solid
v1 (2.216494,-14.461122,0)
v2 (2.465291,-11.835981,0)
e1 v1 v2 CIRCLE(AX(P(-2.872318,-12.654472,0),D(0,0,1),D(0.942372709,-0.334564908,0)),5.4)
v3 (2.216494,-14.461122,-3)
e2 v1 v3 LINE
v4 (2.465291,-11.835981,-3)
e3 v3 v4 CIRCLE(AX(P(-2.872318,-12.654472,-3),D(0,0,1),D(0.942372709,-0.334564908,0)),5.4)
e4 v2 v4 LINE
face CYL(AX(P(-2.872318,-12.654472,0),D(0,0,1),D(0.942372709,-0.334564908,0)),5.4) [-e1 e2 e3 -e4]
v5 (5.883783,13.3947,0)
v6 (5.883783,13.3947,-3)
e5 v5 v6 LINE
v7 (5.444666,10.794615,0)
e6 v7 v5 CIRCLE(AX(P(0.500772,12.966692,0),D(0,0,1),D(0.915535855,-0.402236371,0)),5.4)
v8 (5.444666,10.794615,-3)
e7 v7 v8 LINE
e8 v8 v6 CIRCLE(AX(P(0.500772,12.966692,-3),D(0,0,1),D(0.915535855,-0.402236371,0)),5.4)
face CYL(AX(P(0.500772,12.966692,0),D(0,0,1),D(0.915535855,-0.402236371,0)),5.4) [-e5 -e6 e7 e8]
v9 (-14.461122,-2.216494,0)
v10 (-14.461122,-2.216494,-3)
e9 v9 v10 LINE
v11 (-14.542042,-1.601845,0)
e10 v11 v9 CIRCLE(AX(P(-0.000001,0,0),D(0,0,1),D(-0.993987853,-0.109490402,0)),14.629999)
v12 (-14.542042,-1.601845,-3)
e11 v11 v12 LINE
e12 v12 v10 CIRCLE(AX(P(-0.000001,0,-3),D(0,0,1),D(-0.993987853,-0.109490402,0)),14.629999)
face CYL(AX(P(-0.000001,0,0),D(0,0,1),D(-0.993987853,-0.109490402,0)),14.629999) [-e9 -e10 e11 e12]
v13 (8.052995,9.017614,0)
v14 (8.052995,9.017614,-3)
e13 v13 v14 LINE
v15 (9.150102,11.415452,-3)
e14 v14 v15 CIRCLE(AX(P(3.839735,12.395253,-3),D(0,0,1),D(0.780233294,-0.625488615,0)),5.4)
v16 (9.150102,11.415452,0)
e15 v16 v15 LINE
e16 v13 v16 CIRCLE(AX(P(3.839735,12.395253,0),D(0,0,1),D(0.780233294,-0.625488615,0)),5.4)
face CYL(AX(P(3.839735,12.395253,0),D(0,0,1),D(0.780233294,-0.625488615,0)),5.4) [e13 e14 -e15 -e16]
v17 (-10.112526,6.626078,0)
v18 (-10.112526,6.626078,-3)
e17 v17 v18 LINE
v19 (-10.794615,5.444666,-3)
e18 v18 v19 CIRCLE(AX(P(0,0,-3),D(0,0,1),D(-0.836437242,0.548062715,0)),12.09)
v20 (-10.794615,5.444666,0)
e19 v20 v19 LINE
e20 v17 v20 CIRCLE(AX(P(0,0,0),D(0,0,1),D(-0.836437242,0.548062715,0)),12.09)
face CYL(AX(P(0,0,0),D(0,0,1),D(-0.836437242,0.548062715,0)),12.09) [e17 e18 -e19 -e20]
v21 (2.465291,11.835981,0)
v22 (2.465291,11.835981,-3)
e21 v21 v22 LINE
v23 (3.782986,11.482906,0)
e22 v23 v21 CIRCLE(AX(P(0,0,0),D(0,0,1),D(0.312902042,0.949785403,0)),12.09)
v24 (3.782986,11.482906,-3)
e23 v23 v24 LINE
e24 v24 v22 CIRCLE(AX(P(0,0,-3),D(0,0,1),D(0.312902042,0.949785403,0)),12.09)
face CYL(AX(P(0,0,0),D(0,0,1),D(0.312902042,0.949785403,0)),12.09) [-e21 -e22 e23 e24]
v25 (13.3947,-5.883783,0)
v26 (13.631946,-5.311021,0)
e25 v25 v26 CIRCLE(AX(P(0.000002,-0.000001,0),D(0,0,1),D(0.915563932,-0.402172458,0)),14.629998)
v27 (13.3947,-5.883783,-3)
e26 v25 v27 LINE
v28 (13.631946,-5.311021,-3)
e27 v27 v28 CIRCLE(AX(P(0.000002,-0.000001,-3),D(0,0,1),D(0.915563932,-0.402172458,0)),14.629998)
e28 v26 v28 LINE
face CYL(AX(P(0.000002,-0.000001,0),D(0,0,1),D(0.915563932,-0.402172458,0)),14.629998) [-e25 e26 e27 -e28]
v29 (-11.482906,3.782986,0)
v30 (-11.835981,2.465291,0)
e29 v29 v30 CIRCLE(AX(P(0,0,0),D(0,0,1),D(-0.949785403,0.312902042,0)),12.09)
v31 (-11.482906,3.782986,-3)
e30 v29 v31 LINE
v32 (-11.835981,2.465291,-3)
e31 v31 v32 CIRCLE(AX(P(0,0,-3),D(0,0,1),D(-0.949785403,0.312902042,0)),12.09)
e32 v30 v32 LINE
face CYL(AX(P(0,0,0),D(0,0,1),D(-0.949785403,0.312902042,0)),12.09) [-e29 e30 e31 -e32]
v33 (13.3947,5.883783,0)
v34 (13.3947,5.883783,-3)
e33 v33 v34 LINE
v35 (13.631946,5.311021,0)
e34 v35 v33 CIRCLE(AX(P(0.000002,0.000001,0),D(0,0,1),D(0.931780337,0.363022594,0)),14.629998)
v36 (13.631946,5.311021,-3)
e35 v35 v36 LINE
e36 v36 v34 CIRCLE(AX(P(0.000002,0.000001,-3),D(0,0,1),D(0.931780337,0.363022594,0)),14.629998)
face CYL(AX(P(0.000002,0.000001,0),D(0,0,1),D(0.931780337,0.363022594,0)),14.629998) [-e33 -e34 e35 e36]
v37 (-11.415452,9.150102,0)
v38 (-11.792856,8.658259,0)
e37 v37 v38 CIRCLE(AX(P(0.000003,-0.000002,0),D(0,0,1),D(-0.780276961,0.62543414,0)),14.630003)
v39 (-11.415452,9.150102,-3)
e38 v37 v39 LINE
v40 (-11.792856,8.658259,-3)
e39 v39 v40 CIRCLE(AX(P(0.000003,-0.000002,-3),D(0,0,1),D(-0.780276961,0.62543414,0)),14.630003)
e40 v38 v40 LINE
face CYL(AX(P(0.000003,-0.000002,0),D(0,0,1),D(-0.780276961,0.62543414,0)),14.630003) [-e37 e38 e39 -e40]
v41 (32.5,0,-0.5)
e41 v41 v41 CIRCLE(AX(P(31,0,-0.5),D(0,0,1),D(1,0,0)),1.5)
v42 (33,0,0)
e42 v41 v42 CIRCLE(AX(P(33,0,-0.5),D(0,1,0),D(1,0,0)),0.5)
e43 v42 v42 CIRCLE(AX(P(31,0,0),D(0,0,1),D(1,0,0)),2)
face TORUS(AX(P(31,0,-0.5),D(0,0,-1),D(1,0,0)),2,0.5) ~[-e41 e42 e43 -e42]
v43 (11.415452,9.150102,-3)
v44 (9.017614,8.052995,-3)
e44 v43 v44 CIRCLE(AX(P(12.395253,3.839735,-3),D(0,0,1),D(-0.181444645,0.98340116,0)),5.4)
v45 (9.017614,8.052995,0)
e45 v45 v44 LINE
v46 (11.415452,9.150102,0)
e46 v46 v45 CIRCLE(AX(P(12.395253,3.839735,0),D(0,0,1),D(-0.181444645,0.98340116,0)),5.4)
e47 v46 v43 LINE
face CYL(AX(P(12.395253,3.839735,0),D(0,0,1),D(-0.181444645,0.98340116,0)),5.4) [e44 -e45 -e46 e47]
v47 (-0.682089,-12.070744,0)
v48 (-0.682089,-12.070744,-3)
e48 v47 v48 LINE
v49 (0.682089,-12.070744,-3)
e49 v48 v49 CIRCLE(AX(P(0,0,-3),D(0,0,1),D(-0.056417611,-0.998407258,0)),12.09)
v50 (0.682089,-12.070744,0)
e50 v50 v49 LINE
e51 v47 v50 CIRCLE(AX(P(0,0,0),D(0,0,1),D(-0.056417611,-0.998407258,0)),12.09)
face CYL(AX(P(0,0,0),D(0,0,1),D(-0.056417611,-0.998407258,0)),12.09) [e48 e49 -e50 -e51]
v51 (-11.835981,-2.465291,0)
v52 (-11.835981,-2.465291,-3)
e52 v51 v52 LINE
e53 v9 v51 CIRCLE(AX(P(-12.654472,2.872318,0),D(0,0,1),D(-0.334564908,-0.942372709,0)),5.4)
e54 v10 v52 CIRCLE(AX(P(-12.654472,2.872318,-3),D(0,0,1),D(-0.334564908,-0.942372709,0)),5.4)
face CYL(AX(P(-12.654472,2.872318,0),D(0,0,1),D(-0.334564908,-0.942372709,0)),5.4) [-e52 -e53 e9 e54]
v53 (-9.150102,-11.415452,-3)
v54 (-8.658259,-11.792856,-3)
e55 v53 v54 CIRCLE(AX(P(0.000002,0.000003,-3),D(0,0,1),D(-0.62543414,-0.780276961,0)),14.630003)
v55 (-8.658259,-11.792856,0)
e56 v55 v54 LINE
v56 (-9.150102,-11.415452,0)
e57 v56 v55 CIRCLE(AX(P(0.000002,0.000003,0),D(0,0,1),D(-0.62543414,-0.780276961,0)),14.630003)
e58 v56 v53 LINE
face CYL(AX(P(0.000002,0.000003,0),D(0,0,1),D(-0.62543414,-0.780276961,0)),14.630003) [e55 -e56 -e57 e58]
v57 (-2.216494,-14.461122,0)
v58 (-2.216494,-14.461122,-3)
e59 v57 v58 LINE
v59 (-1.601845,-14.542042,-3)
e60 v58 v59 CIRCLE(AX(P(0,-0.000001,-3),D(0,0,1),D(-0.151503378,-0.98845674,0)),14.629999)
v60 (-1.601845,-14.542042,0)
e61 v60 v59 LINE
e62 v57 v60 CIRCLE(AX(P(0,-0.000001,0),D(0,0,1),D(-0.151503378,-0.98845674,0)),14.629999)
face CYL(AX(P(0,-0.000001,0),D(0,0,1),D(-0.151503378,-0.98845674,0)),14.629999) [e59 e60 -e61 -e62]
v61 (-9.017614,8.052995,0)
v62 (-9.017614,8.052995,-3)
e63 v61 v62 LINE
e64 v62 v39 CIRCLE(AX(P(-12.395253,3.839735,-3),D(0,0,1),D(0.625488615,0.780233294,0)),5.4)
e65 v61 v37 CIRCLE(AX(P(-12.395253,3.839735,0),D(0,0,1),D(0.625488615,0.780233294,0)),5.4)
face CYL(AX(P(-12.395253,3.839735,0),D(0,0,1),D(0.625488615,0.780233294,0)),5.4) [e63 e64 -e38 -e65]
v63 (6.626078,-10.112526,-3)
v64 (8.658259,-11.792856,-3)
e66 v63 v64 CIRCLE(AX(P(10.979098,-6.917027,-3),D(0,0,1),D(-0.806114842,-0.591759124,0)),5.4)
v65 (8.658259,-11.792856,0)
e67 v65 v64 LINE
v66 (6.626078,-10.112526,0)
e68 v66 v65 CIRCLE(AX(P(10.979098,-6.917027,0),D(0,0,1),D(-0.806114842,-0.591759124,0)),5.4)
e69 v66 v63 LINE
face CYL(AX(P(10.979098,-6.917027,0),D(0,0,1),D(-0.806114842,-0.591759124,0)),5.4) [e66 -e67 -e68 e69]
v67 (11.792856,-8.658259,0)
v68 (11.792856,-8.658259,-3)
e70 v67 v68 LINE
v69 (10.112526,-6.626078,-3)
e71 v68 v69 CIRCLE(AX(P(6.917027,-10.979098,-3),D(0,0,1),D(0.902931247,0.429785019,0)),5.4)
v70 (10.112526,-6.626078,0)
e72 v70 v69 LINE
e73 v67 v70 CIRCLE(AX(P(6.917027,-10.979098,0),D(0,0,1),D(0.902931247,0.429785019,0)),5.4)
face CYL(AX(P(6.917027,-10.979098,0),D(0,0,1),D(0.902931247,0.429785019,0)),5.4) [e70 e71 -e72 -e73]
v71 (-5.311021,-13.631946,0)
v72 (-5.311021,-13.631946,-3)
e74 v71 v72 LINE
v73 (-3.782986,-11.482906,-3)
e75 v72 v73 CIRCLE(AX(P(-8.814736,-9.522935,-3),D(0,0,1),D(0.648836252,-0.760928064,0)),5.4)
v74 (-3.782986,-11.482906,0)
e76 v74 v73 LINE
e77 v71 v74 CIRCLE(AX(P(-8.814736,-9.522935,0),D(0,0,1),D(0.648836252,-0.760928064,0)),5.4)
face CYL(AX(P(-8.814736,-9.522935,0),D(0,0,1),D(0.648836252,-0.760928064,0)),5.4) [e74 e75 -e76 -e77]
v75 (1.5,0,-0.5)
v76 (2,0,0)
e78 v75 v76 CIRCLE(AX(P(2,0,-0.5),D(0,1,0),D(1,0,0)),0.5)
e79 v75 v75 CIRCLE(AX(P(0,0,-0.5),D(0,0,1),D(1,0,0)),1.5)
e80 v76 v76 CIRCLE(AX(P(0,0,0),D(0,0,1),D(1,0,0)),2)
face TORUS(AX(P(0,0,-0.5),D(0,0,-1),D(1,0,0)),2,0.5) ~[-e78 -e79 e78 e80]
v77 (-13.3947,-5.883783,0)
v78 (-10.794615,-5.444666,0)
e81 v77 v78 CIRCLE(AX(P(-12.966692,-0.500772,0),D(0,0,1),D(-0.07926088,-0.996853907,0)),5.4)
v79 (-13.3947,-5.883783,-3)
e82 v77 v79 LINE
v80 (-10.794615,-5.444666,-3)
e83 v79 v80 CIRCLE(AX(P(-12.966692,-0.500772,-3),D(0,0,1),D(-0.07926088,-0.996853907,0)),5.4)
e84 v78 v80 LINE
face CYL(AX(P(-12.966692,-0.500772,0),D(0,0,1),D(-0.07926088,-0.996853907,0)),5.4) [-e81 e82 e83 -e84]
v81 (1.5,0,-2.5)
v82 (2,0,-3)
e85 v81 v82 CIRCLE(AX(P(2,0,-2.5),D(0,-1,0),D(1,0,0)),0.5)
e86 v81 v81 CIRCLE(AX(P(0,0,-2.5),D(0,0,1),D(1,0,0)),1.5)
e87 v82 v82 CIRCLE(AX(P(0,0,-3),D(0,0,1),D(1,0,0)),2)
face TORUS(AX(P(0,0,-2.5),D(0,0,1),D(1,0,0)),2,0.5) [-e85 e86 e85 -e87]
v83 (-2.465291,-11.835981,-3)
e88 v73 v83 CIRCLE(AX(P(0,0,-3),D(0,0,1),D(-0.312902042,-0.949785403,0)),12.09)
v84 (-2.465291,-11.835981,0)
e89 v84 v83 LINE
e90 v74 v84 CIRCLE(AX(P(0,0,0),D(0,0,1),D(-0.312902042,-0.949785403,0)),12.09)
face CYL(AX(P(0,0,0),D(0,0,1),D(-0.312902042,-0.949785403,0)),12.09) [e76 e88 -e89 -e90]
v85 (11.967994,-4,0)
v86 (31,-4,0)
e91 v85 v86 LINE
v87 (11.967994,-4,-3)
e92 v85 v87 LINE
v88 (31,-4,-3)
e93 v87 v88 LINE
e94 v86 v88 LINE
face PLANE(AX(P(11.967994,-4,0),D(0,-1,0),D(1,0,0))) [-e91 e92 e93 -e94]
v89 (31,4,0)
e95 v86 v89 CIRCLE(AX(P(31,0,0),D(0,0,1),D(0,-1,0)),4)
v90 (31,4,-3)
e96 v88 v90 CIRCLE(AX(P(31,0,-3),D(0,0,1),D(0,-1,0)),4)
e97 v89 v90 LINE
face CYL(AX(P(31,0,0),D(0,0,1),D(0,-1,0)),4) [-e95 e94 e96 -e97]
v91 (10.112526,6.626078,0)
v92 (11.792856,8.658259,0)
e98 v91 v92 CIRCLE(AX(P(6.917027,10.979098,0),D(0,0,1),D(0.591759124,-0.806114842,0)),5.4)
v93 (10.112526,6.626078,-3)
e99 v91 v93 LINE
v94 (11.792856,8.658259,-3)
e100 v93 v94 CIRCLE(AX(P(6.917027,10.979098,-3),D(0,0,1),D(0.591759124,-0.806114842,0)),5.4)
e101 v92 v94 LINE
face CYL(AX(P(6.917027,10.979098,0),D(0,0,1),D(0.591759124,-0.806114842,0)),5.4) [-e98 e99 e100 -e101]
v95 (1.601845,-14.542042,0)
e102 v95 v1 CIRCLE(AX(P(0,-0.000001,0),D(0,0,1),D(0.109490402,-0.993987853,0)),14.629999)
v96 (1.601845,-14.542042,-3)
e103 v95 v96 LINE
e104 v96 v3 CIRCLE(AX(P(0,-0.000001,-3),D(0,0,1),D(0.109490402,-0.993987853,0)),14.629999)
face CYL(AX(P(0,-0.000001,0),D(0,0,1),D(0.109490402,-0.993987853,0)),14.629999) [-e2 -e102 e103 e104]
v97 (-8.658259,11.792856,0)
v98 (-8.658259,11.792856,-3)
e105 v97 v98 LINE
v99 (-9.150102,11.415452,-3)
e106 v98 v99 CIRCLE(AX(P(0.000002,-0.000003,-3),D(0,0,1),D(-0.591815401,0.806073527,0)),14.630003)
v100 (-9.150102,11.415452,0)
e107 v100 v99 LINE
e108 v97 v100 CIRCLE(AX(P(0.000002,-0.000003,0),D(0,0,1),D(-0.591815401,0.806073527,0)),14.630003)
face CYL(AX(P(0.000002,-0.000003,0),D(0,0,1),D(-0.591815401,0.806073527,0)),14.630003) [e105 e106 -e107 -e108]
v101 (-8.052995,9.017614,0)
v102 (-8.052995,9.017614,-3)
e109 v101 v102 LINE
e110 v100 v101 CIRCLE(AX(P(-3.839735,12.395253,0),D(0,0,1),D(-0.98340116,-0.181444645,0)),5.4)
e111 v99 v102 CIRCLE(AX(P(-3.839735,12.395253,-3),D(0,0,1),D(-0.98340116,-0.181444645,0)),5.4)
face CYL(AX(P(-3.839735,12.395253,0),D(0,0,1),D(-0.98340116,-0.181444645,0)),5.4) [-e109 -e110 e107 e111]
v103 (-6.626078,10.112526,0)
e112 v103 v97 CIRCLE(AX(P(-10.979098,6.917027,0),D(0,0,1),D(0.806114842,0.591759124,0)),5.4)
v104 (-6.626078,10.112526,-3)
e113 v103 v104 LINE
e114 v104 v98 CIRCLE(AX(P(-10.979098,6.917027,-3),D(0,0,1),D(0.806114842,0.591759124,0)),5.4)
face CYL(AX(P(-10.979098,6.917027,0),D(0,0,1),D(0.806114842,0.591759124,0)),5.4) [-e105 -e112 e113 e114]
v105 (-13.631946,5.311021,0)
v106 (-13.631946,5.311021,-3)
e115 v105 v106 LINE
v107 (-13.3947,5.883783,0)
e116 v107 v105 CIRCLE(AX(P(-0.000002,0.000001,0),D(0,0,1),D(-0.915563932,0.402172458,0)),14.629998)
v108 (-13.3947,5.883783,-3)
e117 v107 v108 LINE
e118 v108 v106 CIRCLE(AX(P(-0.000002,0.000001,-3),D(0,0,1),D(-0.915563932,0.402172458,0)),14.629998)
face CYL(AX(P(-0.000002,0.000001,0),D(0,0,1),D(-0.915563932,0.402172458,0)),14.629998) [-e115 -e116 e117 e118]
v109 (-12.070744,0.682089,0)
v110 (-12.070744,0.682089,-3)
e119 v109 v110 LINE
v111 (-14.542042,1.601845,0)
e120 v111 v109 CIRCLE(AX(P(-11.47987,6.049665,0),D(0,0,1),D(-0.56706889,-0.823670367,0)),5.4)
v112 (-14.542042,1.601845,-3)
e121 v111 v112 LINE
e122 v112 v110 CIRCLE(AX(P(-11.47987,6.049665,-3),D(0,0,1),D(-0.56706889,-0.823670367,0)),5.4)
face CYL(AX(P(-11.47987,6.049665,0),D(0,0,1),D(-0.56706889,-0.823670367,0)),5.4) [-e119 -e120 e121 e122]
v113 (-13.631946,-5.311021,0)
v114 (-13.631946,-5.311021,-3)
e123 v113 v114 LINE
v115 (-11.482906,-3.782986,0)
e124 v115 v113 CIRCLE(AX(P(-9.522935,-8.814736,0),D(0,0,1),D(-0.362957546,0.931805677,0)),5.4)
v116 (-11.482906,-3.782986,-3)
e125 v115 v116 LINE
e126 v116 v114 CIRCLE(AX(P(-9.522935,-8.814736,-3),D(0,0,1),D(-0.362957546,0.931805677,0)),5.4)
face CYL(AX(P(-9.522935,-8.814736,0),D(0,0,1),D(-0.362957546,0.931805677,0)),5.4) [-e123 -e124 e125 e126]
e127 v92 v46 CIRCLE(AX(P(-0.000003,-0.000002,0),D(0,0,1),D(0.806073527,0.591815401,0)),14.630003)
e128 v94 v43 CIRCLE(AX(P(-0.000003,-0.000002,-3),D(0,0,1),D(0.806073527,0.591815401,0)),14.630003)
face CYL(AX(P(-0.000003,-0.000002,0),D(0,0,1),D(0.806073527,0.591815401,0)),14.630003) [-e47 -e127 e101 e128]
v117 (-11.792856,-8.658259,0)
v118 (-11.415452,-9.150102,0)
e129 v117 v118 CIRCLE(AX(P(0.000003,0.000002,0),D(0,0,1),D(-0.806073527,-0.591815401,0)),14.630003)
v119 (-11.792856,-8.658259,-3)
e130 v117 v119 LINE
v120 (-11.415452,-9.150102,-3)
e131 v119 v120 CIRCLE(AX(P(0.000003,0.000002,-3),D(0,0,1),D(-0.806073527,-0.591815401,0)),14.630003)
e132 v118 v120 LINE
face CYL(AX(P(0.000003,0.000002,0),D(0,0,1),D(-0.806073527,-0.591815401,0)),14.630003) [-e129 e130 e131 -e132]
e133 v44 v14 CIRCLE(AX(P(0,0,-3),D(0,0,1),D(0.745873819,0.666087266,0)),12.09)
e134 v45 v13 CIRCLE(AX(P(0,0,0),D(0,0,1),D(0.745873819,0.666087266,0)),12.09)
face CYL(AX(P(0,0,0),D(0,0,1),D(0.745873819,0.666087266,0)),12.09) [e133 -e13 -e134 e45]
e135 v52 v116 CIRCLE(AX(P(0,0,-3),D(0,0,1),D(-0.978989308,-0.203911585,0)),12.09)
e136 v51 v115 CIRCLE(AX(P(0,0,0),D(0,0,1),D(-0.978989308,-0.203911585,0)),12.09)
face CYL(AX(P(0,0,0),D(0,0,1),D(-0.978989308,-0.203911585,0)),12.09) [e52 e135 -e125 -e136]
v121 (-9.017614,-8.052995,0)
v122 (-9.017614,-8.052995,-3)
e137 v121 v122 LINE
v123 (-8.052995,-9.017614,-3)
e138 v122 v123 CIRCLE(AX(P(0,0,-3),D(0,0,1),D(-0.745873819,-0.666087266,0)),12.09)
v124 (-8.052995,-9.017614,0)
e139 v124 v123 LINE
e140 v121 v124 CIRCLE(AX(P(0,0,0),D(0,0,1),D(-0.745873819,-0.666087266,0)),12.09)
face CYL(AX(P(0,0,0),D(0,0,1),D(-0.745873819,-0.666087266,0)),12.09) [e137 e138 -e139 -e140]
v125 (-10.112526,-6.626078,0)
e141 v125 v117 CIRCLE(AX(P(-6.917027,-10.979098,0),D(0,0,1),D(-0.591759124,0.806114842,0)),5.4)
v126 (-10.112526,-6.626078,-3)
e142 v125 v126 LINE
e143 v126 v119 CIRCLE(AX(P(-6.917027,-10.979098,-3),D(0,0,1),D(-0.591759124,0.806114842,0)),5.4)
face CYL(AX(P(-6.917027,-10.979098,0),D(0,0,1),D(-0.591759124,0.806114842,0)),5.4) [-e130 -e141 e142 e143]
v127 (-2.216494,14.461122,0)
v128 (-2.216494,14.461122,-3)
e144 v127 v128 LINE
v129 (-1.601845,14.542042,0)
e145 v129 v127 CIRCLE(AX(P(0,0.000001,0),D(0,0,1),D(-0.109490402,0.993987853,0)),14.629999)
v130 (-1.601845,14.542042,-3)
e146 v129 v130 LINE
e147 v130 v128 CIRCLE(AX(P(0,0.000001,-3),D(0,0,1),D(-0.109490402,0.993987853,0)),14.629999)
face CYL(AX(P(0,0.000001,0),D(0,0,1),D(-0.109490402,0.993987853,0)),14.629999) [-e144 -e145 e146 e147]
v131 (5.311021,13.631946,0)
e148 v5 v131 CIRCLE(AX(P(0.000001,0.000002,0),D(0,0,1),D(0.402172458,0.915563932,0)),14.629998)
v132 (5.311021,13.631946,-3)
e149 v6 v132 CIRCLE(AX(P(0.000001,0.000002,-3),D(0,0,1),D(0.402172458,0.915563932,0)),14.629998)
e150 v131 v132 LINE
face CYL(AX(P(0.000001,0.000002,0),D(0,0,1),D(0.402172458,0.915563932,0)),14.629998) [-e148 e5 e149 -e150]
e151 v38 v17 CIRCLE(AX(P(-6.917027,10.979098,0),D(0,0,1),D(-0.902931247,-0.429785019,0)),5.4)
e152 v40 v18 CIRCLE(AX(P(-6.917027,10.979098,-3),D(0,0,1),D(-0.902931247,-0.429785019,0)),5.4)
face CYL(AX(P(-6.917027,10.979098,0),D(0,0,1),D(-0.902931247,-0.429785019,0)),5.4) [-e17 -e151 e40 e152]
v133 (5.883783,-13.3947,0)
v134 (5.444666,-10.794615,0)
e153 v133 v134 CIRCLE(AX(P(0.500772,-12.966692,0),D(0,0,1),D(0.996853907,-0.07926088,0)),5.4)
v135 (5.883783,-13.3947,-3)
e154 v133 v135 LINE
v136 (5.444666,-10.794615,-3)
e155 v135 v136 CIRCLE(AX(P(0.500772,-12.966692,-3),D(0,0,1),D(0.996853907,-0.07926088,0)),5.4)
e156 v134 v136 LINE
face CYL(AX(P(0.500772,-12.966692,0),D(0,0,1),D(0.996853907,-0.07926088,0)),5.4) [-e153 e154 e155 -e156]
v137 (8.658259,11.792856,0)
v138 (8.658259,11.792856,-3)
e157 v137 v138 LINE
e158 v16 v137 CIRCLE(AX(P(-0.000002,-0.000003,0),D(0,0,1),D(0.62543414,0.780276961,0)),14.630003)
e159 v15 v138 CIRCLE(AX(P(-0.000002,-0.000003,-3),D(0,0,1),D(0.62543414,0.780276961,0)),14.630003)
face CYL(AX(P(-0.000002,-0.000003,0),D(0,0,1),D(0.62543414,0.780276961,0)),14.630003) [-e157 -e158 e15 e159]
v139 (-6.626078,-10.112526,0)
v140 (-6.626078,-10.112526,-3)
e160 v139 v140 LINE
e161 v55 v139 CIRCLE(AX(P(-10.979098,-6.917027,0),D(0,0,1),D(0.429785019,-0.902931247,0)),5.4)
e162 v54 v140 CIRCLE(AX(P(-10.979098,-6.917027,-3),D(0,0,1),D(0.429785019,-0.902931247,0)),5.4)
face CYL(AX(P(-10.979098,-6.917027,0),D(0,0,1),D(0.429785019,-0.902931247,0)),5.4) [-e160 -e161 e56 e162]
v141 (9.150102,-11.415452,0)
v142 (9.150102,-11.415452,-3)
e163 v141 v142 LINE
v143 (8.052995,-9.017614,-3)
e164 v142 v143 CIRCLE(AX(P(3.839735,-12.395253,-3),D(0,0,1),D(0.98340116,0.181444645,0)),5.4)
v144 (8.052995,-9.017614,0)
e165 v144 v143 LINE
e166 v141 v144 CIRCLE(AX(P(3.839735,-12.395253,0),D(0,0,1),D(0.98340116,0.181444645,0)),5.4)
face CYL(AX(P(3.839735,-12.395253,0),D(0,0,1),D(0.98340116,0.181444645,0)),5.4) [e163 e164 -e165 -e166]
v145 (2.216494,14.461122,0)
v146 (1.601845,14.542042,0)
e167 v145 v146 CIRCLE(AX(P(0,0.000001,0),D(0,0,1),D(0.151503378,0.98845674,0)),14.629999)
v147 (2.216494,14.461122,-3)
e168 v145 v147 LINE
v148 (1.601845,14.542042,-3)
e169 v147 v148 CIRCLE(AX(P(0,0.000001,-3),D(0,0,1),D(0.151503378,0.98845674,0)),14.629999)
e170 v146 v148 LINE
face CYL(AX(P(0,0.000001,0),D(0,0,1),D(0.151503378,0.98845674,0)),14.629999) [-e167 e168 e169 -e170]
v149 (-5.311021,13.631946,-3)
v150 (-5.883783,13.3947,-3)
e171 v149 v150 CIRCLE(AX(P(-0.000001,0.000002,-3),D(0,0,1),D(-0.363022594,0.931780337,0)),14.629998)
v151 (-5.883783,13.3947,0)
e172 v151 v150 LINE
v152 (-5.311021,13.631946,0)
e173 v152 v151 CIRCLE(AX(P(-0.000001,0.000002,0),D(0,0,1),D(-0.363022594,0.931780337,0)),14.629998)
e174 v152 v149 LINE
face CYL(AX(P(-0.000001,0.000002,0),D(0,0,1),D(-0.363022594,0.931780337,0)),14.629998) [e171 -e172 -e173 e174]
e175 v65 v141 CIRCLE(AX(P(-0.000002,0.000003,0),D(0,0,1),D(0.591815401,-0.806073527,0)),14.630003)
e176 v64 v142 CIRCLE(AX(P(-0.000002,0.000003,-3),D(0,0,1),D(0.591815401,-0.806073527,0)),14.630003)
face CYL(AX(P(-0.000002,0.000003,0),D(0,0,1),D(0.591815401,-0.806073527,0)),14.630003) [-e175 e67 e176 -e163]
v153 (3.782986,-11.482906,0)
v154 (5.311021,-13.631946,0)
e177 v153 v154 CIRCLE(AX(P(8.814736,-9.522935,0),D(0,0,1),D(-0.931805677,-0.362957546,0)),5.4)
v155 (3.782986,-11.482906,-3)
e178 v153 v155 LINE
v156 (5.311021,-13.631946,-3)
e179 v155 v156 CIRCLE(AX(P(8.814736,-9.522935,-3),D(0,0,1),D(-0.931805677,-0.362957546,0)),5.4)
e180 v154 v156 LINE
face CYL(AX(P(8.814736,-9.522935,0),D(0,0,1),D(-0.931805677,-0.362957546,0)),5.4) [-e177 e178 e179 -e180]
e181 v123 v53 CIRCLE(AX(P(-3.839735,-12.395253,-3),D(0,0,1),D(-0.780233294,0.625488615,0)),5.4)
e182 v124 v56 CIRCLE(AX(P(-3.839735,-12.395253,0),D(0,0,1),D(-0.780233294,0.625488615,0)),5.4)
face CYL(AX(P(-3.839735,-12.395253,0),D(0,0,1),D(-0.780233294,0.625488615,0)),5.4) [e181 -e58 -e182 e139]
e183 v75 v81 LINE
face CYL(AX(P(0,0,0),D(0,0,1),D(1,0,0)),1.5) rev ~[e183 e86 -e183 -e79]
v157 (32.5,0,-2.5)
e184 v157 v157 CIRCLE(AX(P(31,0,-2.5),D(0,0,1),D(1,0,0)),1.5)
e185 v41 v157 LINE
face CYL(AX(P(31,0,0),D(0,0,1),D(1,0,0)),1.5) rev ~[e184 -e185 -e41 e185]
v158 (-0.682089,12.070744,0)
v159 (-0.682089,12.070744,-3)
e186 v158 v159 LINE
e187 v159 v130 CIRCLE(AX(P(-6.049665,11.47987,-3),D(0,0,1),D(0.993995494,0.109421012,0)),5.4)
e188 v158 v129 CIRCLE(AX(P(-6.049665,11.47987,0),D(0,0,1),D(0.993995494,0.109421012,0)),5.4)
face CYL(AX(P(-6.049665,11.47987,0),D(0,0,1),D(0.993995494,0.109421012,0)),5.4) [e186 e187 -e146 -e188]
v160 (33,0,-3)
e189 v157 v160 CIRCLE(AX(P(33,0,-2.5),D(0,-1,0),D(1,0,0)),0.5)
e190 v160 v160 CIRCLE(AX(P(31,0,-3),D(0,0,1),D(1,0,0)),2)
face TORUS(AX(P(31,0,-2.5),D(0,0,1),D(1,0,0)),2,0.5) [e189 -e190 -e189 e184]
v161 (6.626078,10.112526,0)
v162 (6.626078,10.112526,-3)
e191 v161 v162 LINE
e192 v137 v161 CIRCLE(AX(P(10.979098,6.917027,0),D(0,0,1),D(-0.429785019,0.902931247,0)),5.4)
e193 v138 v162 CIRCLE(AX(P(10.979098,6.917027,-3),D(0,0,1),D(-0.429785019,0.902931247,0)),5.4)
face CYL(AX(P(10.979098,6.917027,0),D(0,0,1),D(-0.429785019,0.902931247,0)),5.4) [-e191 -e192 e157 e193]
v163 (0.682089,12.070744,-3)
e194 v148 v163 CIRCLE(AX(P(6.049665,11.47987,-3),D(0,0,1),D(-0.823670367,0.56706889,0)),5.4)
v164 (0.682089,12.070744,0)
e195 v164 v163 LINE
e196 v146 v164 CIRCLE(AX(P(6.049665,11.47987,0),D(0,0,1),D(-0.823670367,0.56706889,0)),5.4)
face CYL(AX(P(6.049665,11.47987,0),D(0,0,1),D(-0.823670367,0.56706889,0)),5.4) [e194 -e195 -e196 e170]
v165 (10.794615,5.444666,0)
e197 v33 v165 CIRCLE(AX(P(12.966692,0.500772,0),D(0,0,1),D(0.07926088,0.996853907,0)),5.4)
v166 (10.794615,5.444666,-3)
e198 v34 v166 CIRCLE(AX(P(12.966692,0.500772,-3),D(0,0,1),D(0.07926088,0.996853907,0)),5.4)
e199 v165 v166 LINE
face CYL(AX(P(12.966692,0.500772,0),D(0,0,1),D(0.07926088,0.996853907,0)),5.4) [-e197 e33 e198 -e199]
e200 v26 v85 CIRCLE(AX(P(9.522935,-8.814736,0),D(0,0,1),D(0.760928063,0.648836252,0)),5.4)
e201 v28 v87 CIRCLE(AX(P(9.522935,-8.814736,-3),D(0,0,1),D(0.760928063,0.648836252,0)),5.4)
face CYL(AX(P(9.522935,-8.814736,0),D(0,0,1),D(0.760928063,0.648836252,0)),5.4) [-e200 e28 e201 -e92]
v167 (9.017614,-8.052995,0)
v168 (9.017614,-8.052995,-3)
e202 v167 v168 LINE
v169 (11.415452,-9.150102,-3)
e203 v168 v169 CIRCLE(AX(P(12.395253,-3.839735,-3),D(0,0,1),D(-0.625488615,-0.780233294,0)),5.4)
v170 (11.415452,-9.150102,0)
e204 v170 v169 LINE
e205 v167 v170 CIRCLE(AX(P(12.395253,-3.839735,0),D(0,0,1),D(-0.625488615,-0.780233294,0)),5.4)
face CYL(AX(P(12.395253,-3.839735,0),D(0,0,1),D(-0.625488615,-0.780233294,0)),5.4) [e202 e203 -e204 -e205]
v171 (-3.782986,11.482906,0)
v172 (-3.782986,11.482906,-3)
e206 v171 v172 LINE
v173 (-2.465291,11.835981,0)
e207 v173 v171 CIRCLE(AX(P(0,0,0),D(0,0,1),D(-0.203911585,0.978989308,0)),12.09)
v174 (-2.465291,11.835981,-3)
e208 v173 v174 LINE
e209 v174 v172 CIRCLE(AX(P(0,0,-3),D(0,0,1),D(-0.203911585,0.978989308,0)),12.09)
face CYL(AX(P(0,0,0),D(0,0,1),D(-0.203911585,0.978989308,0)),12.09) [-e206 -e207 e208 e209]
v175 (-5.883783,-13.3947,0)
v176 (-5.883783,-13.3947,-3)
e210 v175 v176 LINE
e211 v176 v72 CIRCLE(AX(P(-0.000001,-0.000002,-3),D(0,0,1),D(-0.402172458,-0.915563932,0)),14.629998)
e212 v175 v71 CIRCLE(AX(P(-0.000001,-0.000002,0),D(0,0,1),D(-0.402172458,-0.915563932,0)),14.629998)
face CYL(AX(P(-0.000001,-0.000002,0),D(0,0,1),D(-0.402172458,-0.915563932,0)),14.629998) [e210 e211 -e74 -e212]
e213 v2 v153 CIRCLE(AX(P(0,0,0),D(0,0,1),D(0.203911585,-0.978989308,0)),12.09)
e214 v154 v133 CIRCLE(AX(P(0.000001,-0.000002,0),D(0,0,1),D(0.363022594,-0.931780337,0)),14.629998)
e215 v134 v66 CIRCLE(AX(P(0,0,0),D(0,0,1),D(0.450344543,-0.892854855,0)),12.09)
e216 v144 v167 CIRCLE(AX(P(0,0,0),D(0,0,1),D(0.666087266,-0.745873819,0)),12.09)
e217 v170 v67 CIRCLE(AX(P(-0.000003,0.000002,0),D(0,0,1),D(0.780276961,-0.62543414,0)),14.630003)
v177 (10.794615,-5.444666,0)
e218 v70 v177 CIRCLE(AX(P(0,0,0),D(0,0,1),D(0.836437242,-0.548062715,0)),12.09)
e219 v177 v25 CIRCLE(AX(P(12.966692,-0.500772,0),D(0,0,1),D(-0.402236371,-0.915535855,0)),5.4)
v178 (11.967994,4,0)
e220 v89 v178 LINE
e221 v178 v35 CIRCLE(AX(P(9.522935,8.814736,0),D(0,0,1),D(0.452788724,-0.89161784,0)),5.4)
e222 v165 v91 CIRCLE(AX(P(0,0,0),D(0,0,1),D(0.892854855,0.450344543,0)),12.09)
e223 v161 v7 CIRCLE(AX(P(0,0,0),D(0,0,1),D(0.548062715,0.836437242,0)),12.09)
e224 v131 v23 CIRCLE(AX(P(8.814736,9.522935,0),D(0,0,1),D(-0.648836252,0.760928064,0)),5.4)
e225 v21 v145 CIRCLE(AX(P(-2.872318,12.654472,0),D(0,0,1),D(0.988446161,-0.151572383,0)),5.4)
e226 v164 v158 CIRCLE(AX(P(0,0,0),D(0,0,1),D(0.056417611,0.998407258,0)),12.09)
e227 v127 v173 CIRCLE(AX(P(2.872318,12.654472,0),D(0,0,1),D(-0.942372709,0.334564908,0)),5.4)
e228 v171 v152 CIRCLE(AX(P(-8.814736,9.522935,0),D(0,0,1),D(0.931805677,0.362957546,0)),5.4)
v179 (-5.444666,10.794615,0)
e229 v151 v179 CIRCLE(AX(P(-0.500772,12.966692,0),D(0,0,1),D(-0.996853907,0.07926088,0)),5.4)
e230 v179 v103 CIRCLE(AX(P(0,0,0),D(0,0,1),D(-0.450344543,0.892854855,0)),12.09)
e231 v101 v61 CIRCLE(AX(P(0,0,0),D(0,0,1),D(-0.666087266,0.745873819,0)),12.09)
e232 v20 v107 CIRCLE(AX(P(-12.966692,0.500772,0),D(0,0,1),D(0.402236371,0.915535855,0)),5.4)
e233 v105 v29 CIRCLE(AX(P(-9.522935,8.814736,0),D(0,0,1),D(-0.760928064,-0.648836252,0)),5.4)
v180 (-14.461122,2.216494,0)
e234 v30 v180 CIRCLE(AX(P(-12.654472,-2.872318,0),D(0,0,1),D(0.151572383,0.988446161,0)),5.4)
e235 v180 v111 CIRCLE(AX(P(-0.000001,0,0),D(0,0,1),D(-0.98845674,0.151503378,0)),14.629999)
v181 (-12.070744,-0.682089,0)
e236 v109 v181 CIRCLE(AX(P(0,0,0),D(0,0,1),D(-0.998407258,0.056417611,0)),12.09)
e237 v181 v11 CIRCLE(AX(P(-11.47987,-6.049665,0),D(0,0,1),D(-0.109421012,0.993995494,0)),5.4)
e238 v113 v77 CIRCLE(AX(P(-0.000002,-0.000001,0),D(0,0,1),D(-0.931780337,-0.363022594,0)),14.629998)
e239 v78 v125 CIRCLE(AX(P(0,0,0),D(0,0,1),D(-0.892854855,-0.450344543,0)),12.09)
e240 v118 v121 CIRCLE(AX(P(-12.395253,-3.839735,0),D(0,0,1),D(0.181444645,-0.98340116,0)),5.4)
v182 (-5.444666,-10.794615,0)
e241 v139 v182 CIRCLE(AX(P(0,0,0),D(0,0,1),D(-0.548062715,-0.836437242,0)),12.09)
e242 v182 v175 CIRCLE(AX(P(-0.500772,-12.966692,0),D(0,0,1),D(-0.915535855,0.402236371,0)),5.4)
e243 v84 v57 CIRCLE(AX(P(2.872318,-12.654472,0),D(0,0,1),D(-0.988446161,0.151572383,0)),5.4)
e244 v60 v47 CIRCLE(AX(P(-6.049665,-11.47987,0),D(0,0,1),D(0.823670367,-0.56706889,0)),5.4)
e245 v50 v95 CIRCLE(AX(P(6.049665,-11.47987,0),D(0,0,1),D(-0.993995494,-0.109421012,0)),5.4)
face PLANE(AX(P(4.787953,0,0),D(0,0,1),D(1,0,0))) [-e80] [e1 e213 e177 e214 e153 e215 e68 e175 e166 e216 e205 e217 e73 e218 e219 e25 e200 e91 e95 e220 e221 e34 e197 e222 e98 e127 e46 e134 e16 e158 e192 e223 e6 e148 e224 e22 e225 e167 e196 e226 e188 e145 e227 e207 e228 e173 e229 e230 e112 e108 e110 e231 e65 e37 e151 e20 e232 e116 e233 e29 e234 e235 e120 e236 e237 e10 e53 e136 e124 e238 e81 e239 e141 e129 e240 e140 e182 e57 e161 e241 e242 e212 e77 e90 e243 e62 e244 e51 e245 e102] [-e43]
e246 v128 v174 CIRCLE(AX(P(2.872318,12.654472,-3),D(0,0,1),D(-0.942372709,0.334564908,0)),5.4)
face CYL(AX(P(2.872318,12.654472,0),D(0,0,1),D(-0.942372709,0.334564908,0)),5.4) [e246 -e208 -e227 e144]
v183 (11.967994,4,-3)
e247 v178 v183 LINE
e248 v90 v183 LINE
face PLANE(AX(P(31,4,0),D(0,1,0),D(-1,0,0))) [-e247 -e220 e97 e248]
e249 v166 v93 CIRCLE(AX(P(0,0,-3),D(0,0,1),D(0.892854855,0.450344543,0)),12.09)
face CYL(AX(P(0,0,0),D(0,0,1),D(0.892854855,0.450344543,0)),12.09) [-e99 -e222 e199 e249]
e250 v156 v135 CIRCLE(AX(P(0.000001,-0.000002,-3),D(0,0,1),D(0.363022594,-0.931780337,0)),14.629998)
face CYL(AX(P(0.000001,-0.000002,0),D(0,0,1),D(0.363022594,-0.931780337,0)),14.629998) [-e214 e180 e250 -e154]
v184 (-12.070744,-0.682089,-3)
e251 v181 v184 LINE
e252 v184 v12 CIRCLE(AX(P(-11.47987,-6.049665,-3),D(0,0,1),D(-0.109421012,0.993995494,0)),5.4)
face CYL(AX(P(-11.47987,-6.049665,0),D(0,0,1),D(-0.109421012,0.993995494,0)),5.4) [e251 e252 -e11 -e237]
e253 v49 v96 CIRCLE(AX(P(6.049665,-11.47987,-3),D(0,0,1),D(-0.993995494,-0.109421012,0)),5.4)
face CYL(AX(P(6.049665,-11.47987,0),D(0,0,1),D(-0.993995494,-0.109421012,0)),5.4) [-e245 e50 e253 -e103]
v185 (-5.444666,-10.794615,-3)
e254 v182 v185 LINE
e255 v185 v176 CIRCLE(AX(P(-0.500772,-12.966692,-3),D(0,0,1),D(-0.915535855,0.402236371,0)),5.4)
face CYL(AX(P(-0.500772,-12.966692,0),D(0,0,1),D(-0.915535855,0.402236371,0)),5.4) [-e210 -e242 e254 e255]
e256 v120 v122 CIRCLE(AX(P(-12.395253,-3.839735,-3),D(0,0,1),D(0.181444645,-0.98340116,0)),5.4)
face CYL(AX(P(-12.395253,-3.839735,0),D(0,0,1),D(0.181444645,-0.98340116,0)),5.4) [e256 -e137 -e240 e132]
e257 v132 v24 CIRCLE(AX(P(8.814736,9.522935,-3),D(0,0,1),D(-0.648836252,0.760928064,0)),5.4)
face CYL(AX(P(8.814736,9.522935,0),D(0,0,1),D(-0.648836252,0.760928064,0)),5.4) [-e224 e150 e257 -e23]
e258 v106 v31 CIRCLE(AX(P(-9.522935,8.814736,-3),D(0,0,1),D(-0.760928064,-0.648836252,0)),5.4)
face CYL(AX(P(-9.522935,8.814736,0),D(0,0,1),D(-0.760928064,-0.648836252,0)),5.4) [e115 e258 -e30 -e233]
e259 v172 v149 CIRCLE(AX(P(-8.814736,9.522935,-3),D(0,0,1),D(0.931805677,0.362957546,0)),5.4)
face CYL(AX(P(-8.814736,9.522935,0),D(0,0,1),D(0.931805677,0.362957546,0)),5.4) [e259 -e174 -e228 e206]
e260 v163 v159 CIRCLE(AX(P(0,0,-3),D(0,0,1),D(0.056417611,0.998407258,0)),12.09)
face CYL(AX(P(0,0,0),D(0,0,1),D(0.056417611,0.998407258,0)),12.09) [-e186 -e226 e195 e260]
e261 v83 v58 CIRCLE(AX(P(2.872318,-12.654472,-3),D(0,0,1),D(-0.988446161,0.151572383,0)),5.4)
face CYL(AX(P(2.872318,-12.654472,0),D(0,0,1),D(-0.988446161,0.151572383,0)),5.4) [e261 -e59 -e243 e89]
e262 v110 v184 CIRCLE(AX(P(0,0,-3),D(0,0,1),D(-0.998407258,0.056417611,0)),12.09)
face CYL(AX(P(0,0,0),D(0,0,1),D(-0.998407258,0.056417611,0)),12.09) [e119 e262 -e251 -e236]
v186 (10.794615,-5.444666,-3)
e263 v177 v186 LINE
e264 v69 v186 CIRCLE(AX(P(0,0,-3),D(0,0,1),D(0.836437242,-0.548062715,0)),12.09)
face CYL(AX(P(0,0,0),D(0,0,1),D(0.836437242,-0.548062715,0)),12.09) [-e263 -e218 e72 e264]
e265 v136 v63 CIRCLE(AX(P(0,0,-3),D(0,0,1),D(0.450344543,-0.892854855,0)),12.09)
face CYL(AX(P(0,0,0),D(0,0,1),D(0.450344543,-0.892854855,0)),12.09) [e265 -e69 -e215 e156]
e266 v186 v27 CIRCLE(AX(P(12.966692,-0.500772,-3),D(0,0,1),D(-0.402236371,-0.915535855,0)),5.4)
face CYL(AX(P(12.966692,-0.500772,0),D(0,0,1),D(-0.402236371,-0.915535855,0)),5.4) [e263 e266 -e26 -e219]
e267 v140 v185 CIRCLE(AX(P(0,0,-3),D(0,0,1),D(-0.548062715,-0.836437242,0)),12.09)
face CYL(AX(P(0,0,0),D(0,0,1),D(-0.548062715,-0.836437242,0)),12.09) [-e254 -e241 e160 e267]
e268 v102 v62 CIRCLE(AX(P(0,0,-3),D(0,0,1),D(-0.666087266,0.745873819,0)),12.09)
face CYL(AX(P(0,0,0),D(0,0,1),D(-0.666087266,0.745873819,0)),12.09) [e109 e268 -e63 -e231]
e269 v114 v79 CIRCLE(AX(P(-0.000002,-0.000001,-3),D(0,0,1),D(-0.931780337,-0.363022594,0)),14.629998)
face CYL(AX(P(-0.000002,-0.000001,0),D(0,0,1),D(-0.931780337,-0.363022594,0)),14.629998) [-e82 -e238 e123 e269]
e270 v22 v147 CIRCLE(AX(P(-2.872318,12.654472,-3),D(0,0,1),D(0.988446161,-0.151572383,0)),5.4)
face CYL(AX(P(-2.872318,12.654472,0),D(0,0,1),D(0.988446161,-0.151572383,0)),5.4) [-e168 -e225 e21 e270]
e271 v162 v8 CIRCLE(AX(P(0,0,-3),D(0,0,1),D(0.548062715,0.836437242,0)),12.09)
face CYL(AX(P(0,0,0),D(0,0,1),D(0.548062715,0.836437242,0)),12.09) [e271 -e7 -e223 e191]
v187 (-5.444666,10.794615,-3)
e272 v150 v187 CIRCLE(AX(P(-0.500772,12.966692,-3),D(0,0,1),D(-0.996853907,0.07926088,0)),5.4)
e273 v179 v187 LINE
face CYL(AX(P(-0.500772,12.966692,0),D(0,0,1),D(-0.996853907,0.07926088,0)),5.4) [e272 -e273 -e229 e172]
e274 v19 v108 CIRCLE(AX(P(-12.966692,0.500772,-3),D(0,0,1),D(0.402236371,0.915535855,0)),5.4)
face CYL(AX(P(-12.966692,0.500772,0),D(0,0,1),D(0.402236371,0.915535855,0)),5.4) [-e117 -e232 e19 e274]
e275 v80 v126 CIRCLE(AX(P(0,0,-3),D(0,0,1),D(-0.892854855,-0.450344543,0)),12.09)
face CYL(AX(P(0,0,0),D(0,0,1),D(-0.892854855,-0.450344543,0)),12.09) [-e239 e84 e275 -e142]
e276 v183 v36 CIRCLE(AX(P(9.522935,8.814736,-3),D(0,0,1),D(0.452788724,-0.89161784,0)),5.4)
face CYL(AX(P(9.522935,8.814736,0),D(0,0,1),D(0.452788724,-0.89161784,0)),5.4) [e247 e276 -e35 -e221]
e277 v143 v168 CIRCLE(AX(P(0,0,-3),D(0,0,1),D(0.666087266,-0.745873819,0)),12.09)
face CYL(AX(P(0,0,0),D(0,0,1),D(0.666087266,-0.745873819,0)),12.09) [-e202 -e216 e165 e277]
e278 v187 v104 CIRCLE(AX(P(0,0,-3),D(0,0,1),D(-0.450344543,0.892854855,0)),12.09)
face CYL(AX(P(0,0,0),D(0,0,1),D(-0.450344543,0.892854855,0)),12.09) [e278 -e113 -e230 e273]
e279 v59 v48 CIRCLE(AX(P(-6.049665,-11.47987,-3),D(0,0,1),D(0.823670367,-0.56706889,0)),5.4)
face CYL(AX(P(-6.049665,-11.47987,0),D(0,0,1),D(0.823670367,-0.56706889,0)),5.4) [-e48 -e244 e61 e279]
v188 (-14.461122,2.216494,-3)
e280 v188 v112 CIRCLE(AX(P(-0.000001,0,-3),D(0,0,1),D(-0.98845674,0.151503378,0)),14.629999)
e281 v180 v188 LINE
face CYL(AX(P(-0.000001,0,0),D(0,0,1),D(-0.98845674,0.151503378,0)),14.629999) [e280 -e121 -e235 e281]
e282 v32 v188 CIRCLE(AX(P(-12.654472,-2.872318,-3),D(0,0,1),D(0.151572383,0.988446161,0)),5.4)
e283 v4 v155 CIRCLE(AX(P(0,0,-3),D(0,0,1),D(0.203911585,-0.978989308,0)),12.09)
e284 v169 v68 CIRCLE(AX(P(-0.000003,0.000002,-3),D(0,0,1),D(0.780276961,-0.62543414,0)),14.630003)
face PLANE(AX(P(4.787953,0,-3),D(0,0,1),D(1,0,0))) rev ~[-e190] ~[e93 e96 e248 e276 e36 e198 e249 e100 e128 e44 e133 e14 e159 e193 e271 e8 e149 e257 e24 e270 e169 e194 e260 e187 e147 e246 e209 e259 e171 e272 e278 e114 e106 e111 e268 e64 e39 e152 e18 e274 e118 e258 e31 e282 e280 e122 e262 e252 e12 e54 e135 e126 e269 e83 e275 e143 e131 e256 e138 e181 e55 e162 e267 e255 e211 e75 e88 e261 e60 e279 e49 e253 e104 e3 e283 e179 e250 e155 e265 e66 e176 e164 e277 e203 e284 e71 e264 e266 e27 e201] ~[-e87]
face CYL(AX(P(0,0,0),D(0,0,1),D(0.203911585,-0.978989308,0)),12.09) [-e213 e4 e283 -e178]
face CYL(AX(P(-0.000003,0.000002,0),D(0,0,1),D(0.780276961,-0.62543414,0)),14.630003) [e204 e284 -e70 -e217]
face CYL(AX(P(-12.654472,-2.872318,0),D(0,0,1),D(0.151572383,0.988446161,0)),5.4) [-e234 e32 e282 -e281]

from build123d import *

# Parameters (mm, degrees)
SKETCH1_R           = 1.5
BOSS_EXTRUDE1_DEPTH = 3
FILLET1_R           = 0.5


with BuildPart() as part:
    # Sketch1 → Boss-Extrude1 (new body)
    with BuildSketch(Plane.XY):
        with BuildLine():
            ThreePointArc((31, -4), (35, 0), (31, 4))
            Line((31, 4), (11.967993881, 4))
            ThreePointArc((11.967993881, 4), (12.864888434, 4.573115684), (13.63194632, 5.311020574))
            ThreePointArc((13.63194632, 5.311020574), (13.516357561, 5.598658616), (13.394700346, 5.883783021))
            ThreePointArc((13.394700346, 5.883783021), (12.067442445, 5.825370588), (10.794615193, 5.444665539))
            ThreePointArc((10.794615193, 5.444665539), (10.470247132, 6.045), (10.112526268, 6.626078212))
            ThreePointArc((10.112526268, 6.626078212), (11.078640138, 7.538026423), (11.79285574, 8.658259265))
            ThreePointArc((11.79285574, 8.658259265), (11.606759368, 8.906179706), (11.415451897, 9.150101529))
            ThreePointArc((11.415451897, 9.150101529), (10.148537462, 8.750159829), (9.017614465, 8.052995056))
            ThreePointArc((9.017614465, 8.052995056), (8.548920985, 8.548920985), (8.052995056, 9.017614465))
            ThreePointArc((8.052995056, 9.017614465), (8.750159829, 10.148537462), (9.150101529, 11.415451897))
            ThreePointArc((9.150101529, 11.415451897), (8.906179706, 11.606759368), (8.658259265, 11.79285574))
            ThreePointArc((8.658259265, 11.79285574), (7.538026423, 11.078640138), (6.626078212, 10.112526268))
            ThreePointArc((6.626078212, 10.112526268), (6.045, 10.470247132), (5.444665539, 10.794615193))
            ThreePointArc((5.444665539, 10.794615193), (5.825370588, 12.067442445), (5.883783021, 13.394700346))
            ThreePointArc((5.883783021, 13.394700346), (5.598658616, 13.516357561), (5.311020574, 13.63194632))
            ThreePointArc((5.311020574, 13.63194632), (4.413811339, 12.65212943), (3.78298568, 11.482905527))
            ThreePointArc((3.78298568, 11.482905527), (3.129122255, 11.67804324), (2.465291063, 11.835980736))
            ThreePointArc((2.465291063, 11.835980736), (2.503591968, 13.163971168), (2.216494423, 14.461122103))
            ThreePointArc((2.216494423, 14.461122103), (1.909598192, 14.504838322), (1.601844607, 14.542042286))
            ThreePointArc((1.601844607, 14.542042286), (0.988802307, 13.36339701), (0.682088925, 12.070743751))
            ThreePointArc((0.682088925, 12.070743751), (0, 12.09), (-0.682088925, 12.070743751))
            ThreePointArc((-0.682088925, 12.070743751), (-0.988802307, 13.36339701), (-1.601844607, 14.542042286))
            ThreePointArc((-1.601844607, 14.542042286), (-1.909598192, 14.504838322), (-2.216494423, 14.461122103))
            ThreePointArc((-2.216494423, 14.461122103), (-2.503591968, 13.163971168), (-2.465291063, 11.835980736))
            ThreePointArc((-2.465291063, 11.835980736), (-3.129122255, 11.67804324), (-3.78298568, 11.482905527))
            ThreePointArc((-3.78298568, 11.482905527), (-4.413811339, 12.65212943), (-5.311020574, 13.63194632))
            ThreePointArc((-5.311020574, 13.63194632), (-5.598658616, 13.516357561), (-5.883783021, 13.394700346))
            ThreePointArc((-5.883783021, 13.394700346), (-5.825370588, 12.067442445), (-5.444665539, 10.794615193))
            ThreePointArc((-5.444665539, 10.794615193), (-6.045, 10.470247132), (-6.626078212, 10.112526268))
            ThreePointArc((-6.626078212, 10.112526268), (-7.538026423, 11.078640138), (-8.658259265, 11.79285574))
            ThreePointArc((-8.658259265, 11.79285574), (-8.906179706, 11.606759368), (-9.150101529, 11.415451897))
            ThreePointArc((-9.150101529, 11.415451897), (-8.750159829, 10.148537462), (-8.052995056, 9.017614465))
            ThreePointArc((-8.052995056, 9.017614465), (-8.548920985, 8.548920985), (-9.017614465, 8.052995056))
            ThreePointArc((-9.017614465, 8.052995056), (-10.148537462, 8.750159829), (-11.415451897, 9.150101529))
            ThreePointArc((-11.415451897, 9.150101529), (-11.606759368, 8.906179706), (-11.79285574, 8.658259265))
            ThreePointArc((-11.79285574, 8.658259265), (-11.078640138, 7.538026423), (-10.112526268, 6.626078212))
            ThreePointArc((-10.112526268, 6.626078212), (-10.470247132, 6.045), (-10.794615193, 5.444665539))
            ThreePointArc((-10.794615193, 5.444665539), (-12.067442445, 5.825370588), (-13.394700346, 5.883783021))
            ThreePointArc((-13.394700346, 5.883783021), (-13.516357561, 5.598658616), (-13.63194632, 5.311020574))
            ThreePointArc((-13.63194632, 5.311020574), (-12.65212943, 4.413811339), (-11.482905527, 3.78298568))
            ThreePointArc((-11.482905527, 3.78298568), (-11.67804324, 3.129122255), (-11.835980736, 2.465291063))
            ThreePointArc((-11.835980736, 2.465291063), (-13.163971168, 2.503591968), (-14.461122103, 2.216494423))
            ThreePointArc((-14.461122103, 2.216494423), (-14.504838322, 1.909598192), (-14.542042286, 1.601844607))
            ThreePointArc((-14.542042286, 1.601844607), (-13.36339701, 0.988802307), (-12.070743751, 0.682088925))
            ThreePointArc((-12.070743751, 0.682088925), (-12.09, 0), (-12.070743751, -0.682088925))
            ThreePointArc((-12.070743751, -0.682088925), (-13.36339701, -0.988802307), (-14.542042286, -1.601844607))
            ThreePointArc((-14.542042286, -1.601844607), (-14.504838322, -1.909598192), (-14.461122103, -2.216494423))
            ThreePointArc((-14.461122103, -2.216494423), (-13.163971168, -2.503591968), (-11.835980736, -2.465291063))
            ThreePointArc((-11.835980736, -2.465291063), (-11.67804324, -3.129122255), (-11.482905527, -3.78298568))
            ThreePointArc((-11.482905527, -3.78298568), (-12.65212943, -4.413811339), (-13.63194632, -5.311020574))
            ThreePointArc((-13.63194632, -5.311020574), (-13.516357561, -5.598658616), (-13.394700346, -5.883783021))
            ThreePointArc((-13.394700346, -5.883783021), (-12.067442445, -5.825370588), (-10.794615193, -5.444665539))
            ThreePointArc((-10.794615193, -5.444665539), (-10.470247132, -6.045), (-10.112526268, -6.626078212))
            ThreePointArc((-10.112526268, -6.626078212), (-11.078640138, -7.538026423), (-11.79285574, -8.658259265))
            ThreePointArc((-11.79285574, -8.658259265), (-11.606759368, -8.906179706), (-11.415451897, -9.150101529))
            ThreePointArc((-11.415451897, -9.150101529), (-10.148537462, -8.750159829), (-9.017614465, -8.052995056))
            ThreePointArc((-9.017614465, -8.052995056), (-8.548920985, -8.548920985), (-8.052995056, -9.017614465))
            ThreePointArc((-8.052995056, -9.017614465), (-8.750159829, -10.148537462), (-9.150101529, -11.415451897))
            ThreePointArc((-9.150101529, -11.415451897), (-8.906179706, -11.606759368), (-8.658259265, -11.79285574))
            ThreePointArc((-8.658259265, -11.79285574), (-7.538026423, -11.078640138), (-6.626078212, -10.112526268))
            ThreePointArc((-6.626078212, -10.112526268), (-6.045, -10.470247132), (-5.444665539, -10.794615193))
            ThreePointArc((-5.444665539, -10.794615193), (-5.825370588, -12.067442445), (-5.883783021, -13.394700346))
            ThreePointArc((-5.883783021, -13.394700346), (-5.598658616, -13.516357561), (-5.311020574, -13.63194632))
            ThreePointArc((-5.311020574, -13.63194632), (-4.413811339, -12.65212943), (-3.78298568, -11.482905527))
            ThreePointArc((-3.78298568, -11.482905527), (-3.129122255, -11.67804324), (-2.465291063, -11.835980736))
            ThreePointArc((-2.465291063, -11.835980736), (-2.503591968, -13.163971168), (-2.216494423, -14.461122103))
            ThreePointArc((-2.216494423, -14.461122103), (-1.909598192, -14.504838322), (-1.601844607, -14.542042286))
            ThreePointArc((-1.601844607, -14.542042286), (-0.988802307, -13.36339701), (-0.682088925, -12.070743751))
            ThreePointArc((-0.682088925, -12.070743751), (0, -12.09), (0.682088925, -12.070743751))
            ThreePointArc((0.682088925, -12.070743751), (0.988802307, -13.36339701), (1.601844607, -14.542042286))
            ThreePointArc((1.601844607, -14.542042286), (1.909598192, -14.504838322), (2.216494423, -14.461122103))
            ThreePointArc((2.216494423, -14.461122103), (2.503591968, -13.163971168), (2.465291063, -11.835980736))
            ThreePointArc((2.465291063, -11.835980736), (3.129122255, -11.67804324), (3.78298568, -11.482905527))
            ThreePointArc((3.78298568, -11.482905527), (4.413811339, -12.65212943), (5.311020574, -13.63194632))
            ThreePointArc((5.311020574, -13.63194632), (5.598658616, -13.516357561), (5.883783021, -13.394700346))
            ThreePointArc((5.883783021, -13.394700346), (5.825370588, -12.067442445), (5.444665539, -10.794615193))
            ThreePointArc((5.444665539, -10.794615193), (6.045, -10.470247132), (6.626078212, -10.112526268))
            ThreePointArc((6.626078212, -10.112526268), (7.538026423, -11.078640138), (8.658259265, -11.79285574))
            ThreePointArc((8.658259265, -11.79285574), (8.906179706, -11.606759368), (9.150101529, -11.415451897))
            ThreePointArc((9.150101529, -11.415451897), (8.750159829, -10.148537462), (8.052995056, -9.017614465))
            ThreePointArc((8.052995056, -9.017614465), (8.548920985, -8.548920985), (9.017614465, -8.052995056))
            ThreePointArc((9.017614465, -8.052995056), (10.148537462, -8.750159829), (11.415451897, -9.150101529))
            ThreePointArc((11.415451897, -9.150101529), (11.606759368, -8.906179706), (11.79285574, -8.658259265))
            ThreePointArc((11.79285574, -8.658259265), (11.078640138, -7.538026423), (10.112526268, -6.626078212))
            ThreePointArc((10.112526268, -6.626078212), (10.470247132, -6.045), (10.794615193, -5.444665539))
            ThreePointArc((10.794615193, -5.444665539), (12.067442445, -5.825370588), (13.394700346, -5.883783021))
            ThreePointArc((13.394700346, -5.883783021), (13.516357561, -5.598658616), (13.63194632, -5.311020574))
            ThreePointArc((13.63194632, -5.311020574), (12.864888434, -4.573115684), (11.967993881, -4))
            Line((11.967993881, -4), (31, -4))
        make_face()
        Circle(SKETCH1_R, mode=Mode.SUBTRACT)
        with Locations((31, 0)):
            Circle(SKETCH1_R, mode=Mode.SUBTRACT)
    extrude(amount=-BOSS_EXTRUDE1_DEPTH)

    # Fillet1
    fillet1_edges = [part.edges().sort_by_distance(p)[0] for p in [
        (-1.5, 0, -3),
        (-1.5, 0, 0),
        (29.5, 0, 0),
        (29.5, 0, -3),
    ]]
    fillet(fillet1_edges, radius=FILLET1_R)


solid = part.part
